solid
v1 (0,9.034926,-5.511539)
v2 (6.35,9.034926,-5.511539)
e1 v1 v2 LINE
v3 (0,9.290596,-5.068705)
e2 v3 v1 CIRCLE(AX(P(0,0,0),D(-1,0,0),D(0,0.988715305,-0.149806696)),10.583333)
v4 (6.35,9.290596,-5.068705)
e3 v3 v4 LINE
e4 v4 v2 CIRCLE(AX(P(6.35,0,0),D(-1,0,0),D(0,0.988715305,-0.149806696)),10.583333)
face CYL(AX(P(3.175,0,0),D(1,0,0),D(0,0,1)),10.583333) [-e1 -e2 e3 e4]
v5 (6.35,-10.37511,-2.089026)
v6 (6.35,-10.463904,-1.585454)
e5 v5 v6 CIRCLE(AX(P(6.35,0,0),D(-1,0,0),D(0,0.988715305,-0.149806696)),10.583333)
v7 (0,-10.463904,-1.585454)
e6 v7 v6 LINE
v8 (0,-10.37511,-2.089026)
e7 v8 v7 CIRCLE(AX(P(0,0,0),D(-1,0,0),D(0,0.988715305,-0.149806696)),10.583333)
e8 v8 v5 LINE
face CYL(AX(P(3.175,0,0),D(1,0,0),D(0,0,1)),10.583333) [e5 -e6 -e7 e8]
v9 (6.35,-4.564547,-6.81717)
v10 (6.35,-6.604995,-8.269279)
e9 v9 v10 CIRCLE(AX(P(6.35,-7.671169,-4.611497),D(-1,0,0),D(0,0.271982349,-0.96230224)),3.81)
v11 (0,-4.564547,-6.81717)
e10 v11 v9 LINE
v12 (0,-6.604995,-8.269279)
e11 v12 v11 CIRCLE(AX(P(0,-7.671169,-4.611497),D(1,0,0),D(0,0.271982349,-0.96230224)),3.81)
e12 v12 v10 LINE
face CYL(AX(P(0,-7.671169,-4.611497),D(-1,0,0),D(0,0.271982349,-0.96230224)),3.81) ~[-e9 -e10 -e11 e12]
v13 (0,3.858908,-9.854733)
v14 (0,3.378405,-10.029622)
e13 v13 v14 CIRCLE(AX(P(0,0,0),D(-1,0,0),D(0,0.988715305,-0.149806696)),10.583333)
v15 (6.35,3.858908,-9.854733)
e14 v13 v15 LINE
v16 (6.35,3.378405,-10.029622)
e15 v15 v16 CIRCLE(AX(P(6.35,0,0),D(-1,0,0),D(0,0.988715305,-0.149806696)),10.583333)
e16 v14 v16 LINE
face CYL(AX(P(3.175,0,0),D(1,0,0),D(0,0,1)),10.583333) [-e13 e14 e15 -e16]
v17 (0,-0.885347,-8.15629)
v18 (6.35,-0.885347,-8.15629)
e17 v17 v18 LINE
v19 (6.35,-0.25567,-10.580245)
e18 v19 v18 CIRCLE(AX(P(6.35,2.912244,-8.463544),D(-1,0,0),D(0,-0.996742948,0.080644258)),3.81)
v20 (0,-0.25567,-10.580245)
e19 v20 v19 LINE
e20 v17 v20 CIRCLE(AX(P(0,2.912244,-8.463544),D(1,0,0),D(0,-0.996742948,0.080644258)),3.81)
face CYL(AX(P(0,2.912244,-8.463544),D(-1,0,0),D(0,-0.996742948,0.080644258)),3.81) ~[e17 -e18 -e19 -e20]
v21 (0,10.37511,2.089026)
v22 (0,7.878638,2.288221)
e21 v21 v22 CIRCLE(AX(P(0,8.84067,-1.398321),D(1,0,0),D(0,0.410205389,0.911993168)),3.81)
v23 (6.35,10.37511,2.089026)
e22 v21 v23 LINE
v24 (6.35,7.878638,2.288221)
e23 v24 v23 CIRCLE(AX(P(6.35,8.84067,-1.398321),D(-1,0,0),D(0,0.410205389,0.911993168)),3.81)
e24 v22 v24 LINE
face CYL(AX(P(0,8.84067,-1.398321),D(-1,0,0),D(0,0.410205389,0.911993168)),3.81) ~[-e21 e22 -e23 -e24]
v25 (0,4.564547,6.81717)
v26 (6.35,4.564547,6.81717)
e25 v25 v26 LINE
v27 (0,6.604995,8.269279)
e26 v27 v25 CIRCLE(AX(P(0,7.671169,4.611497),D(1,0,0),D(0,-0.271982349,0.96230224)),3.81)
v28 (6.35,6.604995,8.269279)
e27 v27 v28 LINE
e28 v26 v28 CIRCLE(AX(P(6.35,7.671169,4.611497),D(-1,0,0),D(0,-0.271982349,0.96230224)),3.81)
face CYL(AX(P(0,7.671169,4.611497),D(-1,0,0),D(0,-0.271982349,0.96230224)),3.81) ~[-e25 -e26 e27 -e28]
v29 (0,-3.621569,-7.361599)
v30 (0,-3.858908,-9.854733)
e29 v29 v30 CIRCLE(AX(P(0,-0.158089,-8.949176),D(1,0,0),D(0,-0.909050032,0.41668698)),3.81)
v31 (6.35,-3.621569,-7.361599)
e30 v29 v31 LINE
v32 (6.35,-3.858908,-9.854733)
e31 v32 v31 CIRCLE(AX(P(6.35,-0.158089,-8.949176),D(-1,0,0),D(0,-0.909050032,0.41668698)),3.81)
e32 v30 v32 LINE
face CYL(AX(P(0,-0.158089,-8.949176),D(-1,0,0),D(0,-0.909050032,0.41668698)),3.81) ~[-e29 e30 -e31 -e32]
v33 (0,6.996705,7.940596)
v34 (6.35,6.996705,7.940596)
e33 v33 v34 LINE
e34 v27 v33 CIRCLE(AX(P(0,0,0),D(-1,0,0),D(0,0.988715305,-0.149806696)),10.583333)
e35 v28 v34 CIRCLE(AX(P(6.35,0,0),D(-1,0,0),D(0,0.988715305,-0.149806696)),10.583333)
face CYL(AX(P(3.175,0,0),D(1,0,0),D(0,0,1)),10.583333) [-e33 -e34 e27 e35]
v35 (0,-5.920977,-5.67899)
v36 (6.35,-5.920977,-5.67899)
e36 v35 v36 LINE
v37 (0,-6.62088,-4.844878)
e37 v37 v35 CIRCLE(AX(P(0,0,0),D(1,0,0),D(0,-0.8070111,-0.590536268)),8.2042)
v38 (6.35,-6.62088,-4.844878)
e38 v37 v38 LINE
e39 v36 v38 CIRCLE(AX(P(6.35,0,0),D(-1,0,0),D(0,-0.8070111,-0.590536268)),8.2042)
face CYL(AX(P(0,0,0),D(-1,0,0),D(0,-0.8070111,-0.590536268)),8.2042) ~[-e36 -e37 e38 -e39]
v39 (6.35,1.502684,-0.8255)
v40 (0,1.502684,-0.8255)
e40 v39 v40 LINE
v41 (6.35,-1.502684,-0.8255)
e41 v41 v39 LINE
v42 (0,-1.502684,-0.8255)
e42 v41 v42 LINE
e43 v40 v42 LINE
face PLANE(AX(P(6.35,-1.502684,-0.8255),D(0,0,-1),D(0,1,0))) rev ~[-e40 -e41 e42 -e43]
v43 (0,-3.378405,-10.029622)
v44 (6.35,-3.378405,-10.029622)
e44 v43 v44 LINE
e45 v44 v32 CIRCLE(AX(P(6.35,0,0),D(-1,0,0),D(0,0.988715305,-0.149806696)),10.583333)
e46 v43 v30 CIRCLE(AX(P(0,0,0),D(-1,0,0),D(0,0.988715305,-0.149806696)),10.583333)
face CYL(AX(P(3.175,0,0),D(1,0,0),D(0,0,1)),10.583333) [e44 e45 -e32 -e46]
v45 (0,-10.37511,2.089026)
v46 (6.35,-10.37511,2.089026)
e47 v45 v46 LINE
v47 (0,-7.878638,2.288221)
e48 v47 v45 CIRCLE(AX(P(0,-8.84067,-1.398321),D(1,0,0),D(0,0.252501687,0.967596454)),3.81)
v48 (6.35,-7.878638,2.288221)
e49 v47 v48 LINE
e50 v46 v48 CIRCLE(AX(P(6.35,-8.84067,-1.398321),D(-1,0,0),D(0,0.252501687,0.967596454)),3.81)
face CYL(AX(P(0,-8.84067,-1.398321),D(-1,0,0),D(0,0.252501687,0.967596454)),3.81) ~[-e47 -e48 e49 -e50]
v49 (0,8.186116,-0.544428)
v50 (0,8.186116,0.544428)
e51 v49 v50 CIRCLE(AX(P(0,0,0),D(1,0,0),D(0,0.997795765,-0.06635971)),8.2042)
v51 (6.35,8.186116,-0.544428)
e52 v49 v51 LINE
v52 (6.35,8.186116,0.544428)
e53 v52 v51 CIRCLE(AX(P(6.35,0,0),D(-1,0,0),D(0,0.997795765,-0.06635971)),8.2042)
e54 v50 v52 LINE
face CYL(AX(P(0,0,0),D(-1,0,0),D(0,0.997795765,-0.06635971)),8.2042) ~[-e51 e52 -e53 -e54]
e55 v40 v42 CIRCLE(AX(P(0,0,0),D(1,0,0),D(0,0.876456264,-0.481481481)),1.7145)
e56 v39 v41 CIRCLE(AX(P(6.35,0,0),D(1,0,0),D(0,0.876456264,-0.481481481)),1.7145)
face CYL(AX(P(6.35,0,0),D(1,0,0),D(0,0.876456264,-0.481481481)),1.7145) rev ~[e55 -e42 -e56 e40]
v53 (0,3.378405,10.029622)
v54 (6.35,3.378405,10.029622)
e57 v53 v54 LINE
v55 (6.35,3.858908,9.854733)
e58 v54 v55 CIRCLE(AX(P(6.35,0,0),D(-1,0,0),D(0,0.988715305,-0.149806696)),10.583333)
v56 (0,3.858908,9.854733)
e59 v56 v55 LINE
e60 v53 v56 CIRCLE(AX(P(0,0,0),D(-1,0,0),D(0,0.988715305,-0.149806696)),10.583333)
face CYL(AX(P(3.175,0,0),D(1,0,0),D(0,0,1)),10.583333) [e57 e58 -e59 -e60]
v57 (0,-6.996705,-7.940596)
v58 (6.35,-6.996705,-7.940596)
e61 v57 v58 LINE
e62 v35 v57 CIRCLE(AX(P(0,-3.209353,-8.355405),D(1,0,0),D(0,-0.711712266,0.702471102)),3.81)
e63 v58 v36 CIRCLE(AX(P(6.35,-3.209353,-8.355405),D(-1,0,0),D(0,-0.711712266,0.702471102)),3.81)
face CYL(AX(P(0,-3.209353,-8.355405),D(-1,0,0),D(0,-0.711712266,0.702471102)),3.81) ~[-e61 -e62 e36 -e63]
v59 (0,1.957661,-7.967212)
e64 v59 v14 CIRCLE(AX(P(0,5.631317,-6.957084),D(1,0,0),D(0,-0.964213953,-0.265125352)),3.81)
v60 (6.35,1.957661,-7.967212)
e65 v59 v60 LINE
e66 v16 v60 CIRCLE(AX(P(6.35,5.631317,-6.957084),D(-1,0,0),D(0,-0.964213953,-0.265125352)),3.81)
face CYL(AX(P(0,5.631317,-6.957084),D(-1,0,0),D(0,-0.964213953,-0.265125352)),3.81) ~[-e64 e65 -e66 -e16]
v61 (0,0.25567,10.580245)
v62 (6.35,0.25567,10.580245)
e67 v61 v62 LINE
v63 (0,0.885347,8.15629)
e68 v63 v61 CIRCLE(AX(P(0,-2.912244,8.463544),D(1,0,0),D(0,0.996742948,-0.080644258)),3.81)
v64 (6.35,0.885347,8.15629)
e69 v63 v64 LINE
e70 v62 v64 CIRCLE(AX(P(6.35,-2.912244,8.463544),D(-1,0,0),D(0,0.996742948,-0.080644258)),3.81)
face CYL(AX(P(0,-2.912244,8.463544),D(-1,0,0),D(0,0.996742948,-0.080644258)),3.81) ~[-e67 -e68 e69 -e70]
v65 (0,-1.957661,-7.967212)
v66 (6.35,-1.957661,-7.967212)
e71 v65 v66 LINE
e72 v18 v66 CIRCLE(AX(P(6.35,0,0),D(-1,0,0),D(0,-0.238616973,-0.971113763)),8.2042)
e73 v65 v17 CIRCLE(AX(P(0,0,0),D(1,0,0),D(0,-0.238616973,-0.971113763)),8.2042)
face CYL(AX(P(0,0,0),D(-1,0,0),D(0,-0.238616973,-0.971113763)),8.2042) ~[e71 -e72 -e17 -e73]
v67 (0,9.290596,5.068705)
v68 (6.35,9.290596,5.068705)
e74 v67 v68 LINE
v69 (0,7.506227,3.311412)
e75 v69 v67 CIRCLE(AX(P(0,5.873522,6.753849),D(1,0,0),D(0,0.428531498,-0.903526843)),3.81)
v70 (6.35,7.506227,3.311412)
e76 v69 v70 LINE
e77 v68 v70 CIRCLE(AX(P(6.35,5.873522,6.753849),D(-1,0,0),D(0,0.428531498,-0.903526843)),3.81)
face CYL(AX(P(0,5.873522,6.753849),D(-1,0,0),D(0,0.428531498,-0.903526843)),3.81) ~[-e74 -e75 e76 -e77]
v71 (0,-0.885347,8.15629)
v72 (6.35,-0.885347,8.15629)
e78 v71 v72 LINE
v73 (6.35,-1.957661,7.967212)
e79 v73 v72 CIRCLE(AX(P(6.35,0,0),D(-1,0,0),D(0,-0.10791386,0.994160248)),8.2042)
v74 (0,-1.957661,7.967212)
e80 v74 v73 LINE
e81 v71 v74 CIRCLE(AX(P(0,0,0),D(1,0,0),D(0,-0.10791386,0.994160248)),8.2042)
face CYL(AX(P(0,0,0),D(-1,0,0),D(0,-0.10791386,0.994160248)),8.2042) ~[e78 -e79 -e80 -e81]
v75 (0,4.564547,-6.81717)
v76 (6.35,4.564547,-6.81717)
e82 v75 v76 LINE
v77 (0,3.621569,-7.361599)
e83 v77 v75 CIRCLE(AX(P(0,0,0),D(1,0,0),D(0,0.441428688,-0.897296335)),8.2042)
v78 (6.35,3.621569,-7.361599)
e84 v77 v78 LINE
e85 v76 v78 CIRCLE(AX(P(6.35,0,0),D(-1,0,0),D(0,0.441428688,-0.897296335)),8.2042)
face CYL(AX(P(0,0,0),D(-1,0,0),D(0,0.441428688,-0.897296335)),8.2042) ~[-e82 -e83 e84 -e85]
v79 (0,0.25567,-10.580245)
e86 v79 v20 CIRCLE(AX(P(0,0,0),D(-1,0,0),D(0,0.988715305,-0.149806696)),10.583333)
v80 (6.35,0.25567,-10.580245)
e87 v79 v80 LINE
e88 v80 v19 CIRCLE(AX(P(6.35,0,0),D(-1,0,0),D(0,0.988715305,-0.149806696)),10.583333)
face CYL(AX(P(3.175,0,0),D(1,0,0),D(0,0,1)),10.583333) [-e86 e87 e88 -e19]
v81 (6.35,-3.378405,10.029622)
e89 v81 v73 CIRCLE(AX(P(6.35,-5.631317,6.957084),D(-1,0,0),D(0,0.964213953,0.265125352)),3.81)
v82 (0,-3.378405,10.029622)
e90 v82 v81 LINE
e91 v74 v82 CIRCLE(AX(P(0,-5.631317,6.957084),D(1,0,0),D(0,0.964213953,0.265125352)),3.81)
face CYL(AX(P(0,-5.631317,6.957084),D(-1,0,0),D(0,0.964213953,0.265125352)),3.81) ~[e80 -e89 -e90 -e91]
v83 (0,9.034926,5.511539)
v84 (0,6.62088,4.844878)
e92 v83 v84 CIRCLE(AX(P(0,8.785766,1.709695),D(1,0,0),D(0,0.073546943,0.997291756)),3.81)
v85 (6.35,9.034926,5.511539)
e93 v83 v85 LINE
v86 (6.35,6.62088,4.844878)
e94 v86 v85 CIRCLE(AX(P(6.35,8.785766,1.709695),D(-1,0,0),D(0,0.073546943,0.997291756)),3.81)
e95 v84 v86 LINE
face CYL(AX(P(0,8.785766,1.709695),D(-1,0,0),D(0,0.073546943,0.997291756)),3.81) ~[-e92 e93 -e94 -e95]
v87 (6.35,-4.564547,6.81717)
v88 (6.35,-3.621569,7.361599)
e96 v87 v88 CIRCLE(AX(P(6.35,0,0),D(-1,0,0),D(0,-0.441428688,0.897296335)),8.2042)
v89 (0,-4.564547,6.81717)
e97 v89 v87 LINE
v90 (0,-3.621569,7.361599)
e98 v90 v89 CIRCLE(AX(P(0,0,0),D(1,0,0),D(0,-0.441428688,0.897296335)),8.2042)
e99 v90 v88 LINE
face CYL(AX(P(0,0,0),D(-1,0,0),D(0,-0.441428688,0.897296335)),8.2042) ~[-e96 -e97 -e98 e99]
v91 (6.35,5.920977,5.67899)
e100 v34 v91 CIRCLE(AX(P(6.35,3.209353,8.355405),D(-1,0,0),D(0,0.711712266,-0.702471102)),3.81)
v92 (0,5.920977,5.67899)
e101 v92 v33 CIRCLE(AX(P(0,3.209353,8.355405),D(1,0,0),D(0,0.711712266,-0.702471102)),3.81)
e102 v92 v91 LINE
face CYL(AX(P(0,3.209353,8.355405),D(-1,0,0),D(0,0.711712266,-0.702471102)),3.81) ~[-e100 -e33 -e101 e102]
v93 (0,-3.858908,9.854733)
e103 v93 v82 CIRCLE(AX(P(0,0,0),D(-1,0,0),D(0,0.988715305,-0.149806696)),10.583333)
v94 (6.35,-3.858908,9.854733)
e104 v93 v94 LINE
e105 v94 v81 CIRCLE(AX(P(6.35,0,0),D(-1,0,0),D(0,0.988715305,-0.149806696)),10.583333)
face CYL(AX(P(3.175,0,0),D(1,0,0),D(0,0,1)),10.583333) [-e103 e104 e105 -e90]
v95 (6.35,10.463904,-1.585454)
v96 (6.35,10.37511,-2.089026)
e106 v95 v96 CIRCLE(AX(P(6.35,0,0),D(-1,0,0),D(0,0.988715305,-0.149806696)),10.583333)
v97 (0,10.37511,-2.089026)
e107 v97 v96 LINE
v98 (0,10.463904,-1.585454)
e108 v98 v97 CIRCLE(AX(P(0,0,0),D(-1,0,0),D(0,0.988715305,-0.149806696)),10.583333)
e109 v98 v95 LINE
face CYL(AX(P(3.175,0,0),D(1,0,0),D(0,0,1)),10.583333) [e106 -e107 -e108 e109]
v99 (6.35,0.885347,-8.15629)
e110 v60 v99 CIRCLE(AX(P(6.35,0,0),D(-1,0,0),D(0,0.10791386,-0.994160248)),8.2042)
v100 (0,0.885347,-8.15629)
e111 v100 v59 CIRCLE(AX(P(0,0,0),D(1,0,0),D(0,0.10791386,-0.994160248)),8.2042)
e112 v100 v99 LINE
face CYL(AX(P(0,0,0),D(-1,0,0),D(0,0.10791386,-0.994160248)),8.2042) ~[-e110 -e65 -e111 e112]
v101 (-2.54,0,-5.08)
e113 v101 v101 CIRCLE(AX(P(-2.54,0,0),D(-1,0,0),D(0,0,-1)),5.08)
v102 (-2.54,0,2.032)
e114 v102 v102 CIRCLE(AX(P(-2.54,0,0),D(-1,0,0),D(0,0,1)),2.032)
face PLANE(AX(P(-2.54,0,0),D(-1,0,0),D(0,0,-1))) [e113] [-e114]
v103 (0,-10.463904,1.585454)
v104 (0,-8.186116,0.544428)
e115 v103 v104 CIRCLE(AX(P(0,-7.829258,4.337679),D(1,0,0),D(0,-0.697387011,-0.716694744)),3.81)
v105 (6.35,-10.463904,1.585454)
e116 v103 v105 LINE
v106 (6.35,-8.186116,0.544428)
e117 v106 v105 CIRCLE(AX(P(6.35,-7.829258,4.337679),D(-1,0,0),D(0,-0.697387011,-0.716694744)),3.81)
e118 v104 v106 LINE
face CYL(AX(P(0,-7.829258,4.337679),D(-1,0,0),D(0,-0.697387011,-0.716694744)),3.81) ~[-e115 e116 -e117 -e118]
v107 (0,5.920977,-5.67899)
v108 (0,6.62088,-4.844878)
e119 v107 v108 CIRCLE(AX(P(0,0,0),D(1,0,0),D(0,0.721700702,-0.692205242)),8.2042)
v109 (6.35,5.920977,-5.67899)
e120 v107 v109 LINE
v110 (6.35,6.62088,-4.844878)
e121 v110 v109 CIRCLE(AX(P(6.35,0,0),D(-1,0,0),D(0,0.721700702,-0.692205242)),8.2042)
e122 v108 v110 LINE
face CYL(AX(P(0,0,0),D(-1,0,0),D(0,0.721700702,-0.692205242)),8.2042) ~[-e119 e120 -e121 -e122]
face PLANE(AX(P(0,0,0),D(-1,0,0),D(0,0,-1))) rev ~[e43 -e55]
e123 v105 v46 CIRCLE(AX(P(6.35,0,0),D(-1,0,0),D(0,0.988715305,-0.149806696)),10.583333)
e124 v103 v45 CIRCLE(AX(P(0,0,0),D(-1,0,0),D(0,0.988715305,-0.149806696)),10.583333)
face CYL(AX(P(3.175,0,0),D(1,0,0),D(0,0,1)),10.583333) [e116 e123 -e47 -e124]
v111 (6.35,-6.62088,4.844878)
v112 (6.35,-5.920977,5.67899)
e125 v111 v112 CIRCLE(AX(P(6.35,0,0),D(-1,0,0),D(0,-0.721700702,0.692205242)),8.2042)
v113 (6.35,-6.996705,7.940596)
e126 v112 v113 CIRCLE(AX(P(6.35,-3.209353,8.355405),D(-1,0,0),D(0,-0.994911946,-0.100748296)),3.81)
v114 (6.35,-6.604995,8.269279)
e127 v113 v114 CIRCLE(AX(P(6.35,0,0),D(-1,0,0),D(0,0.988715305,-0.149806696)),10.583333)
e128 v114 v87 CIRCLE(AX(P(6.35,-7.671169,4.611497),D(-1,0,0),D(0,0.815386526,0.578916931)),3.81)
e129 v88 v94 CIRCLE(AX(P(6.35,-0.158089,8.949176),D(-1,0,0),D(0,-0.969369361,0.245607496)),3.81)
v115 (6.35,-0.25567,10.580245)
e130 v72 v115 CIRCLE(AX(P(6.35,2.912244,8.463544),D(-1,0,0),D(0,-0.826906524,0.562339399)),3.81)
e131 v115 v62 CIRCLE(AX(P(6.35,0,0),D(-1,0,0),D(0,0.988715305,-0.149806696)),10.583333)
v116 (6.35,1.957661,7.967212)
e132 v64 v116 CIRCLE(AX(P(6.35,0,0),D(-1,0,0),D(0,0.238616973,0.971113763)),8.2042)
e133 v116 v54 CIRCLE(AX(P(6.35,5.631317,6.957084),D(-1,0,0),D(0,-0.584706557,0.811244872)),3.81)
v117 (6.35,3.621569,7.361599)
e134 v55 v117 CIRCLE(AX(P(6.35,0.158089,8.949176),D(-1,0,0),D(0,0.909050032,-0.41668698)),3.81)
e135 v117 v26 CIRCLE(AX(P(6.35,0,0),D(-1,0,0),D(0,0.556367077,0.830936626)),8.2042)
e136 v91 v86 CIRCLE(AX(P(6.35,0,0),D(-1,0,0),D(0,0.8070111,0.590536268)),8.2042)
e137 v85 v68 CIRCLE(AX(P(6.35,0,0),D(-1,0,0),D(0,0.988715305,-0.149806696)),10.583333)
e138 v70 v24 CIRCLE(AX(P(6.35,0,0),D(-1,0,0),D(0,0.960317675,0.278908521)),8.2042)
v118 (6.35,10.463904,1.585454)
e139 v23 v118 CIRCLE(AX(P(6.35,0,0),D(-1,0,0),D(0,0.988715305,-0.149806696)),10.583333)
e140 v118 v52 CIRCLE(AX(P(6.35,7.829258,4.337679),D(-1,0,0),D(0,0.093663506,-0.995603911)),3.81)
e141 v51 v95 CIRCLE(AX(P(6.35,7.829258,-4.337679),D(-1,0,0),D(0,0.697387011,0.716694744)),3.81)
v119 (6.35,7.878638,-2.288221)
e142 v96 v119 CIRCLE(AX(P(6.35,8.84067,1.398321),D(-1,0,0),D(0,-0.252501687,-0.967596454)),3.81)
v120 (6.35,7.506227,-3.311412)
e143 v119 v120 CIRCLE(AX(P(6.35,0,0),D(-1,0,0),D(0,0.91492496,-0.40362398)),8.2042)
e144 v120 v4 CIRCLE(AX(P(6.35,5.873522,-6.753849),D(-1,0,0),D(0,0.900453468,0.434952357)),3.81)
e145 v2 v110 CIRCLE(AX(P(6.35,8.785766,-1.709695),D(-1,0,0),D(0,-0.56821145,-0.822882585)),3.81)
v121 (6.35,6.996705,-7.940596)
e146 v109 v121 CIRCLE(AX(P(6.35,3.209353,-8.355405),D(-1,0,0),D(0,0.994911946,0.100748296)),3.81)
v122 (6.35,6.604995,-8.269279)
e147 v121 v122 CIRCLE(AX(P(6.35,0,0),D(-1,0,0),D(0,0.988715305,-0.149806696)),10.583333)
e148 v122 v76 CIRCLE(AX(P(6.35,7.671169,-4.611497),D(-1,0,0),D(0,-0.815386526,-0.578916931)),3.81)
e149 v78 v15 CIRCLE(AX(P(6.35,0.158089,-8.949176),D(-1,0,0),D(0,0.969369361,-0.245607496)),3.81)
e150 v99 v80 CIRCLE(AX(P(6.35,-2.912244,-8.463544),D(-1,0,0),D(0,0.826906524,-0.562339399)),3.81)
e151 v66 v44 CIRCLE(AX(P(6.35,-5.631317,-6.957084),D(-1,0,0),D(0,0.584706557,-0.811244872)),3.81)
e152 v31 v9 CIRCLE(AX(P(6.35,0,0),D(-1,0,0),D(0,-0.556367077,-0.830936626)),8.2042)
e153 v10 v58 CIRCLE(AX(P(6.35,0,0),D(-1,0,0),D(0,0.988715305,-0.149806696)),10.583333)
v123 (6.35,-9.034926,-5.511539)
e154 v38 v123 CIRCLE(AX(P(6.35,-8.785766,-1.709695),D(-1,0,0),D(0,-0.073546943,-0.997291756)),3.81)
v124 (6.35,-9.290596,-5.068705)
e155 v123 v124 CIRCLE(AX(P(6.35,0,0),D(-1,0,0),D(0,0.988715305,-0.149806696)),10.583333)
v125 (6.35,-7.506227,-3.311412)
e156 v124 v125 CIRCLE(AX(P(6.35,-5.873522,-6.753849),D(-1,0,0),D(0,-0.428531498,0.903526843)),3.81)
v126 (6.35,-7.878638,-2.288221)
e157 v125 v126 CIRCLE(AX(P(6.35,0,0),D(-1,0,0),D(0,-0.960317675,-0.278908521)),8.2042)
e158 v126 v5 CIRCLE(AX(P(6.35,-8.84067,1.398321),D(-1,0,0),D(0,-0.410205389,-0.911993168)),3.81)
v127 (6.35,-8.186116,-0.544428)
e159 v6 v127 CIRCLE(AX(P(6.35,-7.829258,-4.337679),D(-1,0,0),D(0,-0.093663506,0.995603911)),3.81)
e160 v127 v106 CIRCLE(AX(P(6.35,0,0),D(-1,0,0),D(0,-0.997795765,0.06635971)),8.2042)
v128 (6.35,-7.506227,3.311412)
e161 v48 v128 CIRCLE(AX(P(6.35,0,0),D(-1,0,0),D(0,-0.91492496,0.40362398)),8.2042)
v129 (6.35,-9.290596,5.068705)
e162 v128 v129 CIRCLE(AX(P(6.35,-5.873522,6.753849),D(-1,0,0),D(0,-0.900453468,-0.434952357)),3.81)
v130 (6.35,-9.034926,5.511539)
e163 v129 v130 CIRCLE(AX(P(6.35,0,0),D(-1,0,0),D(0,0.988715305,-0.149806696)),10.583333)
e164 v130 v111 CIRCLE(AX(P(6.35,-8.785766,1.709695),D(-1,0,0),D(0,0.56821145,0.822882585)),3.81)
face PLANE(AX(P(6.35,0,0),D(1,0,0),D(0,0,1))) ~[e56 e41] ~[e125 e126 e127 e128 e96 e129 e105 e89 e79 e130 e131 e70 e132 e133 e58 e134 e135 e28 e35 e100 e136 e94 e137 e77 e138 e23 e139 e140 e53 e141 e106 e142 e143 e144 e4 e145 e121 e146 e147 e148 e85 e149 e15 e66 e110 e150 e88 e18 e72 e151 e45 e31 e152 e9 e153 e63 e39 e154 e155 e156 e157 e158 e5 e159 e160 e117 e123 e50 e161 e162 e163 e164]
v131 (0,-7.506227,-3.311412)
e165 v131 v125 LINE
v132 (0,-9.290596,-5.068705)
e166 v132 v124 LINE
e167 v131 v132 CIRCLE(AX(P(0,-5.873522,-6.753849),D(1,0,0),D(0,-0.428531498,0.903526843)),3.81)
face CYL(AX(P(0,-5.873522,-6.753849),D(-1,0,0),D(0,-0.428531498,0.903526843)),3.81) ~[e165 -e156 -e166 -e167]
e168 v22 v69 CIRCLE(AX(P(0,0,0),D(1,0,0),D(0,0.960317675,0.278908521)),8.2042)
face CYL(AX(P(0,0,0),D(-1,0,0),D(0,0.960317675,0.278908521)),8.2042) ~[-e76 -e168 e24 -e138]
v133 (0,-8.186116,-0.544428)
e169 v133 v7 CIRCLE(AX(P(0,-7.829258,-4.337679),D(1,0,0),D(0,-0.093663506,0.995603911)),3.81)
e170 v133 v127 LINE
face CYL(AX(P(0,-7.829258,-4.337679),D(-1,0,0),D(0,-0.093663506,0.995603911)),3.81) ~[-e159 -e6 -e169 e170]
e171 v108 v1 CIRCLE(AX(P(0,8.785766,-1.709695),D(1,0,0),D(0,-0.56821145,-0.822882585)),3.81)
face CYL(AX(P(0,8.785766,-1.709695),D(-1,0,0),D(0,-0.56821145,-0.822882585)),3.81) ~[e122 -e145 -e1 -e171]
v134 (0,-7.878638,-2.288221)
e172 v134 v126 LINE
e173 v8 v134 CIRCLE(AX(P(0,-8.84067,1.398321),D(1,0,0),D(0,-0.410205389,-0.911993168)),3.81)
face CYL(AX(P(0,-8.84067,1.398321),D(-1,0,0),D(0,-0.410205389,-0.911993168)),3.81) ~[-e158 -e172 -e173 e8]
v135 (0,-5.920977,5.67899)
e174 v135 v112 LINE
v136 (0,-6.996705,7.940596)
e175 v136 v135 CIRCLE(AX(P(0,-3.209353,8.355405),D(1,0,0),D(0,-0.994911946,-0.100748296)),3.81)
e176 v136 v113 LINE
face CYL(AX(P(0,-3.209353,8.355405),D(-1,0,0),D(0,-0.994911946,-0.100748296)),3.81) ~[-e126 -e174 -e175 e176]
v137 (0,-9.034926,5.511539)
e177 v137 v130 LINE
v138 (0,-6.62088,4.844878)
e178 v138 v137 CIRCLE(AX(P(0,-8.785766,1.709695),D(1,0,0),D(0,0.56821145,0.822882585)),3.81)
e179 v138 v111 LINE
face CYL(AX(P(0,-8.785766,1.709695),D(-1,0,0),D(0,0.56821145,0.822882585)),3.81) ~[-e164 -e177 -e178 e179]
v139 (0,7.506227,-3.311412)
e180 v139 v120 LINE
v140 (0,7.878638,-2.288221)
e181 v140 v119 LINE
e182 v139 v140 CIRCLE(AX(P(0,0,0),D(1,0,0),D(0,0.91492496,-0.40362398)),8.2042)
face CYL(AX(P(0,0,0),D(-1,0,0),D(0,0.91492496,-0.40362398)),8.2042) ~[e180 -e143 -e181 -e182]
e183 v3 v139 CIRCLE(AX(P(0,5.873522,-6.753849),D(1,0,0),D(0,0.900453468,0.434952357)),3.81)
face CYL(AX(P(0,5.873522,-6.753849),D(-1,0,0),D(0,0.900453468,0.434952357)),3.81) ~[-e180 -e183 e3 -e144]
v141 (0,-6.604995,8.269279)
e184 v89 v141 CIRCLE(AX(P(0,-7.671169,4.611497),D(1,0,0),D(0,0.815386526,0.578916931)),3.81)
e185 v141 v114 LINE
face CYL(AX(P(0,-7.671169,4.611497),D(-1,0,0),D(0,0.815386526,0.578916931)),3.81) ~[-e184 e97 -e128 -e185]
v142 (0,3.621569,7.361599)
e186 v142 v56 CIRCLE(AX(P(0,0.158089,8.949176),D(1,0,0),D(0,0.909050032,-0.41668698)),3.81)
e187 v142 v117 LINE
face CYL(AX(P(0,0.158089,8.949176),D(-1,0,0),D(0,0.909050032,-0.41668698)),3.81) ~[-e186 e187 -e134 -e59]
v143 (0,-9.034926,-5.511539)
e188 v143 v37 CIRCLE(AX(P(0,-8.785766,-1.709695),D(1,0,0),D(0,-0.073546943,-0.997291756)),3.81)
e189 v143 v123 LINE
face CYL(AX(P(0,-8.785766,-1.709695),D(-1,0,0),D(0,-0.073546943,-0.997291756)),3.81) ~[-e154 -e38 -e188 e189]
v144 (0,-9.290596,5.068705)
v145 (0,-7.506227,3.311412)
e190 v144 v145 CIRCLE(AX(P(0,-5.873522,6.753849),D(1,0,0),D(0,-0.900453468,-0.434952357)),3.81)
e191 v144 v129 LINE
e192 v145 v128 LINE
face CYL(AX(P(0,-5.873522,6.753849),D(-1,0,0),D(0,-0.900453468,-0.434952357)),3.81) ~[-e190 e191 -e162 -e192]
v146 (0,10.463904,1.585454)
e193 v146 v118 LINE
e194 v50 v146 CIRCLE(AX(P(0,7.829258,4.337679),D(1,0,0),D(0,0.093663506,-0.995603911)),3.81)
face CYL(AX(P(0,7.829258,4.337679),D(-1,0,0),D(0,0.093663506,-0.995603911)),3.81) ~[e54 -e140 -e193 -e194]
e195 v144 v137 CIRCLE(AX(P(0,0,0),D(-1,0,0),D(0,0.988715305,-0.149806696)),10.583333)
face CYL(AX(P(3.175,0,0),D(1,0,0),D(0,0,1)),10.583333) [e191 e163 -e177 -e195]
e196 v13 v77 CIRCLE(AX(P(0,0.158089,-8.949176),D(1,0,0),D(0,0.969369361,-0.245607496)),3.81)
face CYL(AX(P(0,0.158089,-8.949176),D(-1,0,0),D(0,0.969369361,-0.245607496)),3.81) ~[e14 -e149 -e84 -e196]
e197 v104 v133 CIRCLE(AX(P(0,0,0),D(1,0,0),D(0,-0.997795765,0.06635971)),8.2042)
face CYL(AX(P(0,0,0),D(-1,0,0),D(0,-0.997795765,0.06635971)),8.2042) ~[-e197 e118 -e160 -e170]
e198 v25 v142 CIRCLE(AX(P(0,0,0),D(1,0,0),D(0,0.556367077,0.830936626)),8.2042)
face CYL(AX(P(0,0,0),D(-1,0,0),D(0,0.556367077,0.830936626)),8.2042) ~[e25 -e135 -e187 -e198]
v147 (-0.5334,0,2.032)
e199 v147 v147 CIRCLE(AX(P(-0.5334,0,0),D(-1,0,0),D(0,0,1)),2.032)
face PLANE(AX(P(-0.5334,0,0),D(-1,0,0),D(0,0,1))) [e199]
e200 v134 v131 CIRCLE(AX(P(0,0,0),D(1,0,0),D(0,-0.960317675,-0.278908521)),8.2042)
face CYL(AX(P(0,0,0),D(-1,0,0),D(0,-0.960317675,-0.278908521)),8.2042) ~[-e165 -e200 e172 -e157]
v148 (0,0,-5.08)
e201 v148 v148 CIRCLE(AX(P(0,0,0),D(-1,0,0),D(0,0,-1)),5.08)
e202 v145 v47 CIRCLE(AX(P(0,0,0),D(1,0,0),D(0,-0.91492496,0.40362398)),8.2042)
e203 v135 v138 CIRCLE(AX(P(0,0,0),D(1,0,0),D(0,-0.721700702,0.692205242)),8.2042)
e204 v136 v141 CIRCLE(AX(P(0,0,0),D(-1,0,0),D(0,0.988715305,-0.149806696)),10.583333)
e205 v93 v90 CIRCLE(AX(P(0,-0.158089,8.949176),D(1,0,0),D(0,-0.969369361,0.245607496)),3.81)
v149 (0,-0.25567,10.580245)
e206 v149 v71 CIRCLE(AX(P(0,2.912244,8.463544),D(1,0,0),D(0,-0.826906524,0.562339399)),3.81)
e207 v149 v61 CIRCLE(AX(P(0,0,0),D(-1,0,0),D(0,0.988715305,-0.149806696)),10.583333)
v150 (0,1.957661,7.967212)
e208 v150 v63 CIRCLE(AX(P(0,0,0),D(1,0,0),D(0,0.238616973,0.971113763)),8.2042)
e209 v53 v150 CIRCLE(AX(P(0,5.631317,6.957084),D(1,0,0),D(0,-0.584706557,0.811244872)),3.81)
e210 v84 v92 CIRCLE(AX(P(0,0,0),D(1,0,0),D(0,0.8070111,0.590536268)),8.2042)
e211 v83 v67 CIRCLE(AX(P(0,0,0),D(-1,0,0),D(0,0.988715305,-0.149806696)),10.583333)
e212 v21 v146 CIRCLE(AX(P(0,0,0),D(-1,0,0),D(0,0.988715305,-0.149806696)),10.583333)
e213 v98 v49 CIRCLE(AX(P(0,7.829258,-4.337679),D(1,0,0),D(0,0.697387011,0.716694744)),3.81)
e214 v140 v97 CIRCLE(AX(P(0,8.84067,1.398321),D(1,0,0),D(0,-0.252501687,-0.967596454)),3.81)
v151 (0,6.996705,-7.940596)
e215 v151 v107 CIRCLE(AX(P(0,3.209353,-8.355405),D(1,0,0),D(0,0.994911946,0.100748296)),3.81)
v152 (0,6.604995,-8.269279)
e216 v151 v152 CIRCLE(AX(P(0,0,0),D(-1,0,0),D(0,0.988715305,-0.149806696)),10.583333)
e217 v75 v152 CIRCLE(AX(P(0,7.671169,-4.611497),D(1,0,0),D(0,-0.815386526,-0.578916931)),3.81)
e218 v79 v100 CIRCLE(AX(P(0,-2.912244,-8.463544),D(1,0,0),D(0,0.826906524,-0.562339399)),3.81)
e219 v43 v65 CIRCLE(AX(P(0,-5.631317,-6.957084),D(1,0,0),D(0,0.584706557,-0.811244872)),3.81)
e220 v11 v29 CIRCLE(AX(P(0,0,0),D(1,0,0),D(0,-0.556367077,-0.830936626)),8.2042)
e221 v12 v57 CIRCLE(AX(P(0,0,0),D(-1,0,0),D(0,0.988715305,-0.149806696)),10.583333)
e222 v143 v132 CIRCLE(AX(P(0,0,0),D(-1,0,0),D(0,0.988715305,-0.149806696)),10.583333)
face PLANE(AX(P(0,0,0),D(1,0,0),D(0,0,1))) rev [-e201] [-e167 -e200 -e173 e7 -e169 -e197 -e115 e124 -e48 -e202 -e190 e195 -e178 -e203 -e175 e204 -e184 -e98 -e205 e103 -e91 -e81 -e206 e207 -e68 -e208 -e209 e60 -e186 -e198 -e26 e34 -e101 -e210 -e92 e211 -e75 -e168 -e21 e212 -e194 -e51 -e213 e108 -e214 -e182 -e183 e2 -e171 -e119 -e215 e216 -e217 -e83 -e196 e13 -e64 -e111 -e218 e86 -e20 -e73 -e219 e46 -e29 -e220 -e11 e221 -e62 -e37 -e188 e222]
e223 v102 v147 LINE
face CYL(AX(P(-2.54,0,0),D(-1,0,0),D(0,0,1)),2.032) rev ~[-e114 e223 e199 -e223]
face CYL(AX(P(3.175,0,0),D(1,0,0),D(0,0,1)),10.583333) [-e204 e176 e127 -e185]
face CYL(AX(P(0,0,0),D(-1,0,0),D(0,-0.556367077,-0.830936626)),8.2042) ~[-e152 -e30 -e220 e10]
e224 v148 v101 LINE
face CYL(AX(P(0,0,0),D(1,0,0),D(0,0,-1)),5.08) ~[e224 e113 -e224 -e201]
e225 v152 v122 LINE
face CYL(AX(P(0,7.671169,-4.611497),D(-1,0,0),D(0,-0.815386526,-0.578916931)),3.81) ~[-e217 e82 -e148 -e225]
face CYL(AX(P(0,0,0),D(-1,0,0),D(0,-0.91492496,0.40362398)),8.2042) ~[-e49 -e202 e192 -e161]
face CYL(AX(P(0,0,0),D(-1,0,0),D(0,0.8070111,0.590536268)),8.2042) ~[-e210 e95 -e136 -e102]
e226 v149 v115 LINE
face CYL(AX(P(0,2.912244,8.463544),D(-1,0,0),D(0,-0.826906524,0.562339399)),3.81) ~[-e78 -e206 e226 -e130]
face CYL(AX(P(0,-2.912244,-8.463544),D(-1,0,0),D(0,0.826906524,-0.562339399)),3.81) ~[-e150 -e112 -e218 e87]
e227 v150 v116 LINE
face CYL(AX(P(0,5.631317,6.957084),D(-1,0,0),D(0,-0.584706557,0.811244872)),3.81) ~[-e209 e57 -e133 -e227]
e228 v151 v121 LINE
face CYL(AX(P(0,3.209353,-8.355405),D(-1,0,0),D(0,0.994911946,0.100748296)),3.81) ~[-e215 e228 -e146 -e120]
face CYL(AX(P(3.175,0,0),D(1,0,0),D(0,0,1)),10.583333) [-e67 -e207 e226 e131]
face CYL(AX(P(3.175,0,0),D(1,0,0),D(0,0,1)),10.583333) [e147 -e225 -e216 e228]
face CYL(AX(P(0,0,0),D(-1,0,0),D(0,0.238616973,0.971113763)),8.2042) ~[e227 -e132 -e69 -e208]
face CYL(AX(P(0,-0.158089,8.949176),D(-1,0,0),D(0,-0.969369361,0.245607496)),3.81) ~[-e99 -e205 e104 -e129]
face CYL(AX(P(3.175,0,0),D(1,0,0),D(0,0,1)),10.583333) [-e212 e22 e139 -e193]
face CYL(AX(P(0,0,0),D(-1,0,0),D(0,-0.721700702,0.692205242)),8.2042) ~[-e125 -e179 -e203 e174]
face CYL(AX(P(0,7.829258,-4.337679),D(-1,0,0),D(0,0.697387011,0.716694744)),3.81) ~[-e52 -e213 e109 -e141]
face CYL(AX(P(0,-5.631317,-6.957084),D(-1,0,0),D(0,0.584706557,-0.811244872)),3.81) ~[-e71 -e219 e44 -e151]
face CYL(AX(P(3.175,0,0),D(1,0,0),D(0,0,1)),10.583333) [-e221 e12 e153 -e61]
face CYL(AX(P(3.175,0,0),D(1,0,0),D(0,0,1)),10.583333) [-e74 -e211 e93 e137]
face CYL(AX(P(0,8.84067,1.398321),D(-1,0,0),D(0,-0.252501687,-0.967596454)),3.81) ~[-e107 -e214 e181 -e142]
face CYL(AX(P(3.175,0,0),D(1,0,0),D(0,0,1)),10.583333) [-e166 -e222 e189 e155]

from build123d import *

# Parameters (mm, degrees)
BASPROSKE_W         = 6.35
BASPROSKE_H         = 10.583333333
TOOTHCUT_DEPTH      = 17.258425166
TEETHCUTS_COUNT     = 18
TEETHCUTS_ANGLE     = 340
BORSKE_R            = 0.396875
BORE_DEPTH          = 50.8000508
CUT_EXTRUDE1_DEPTH  = 17.180937051
SKETCH2_R           = 5.08
BOSS_EXTRUDE1_DEPTH = 2.54
SKETCH3_R           = 2.032
CUT_EXTRUDE2_DEPTH  = 2.0066


with BuildPart() as part:
    # BasProSke → Base-Revolve (revolve)
    with BuildSketch(Plane(origin=(0, 0, 0), x_dir=(1, 0, 0), z_dir=(0, 1, 0)), mode=Mode.PRIVATE) as base_revolve_sk:
        with Locations((3.175, 5.291666667)):
            Rectangle(BASPROSKE_W, BASPROSKE_H)
    revolve(base_revolve_sk.sketch.rotate(Axis((-10, 0, 0), (1, 0, 0)), 180), axis=Axis((-10, 0, 0), (1, 0, 0)))

    # TooCutSke → ToothCut (cut, through all)
    with BuildSketch(Plane(origin=(0, 0, 0), x_dir=(0, 0, -1), z_dir=(1, 0, 0))):
        with BuildLine():
            ThreePointArc((0.544428341, 8.186116016), (0, 8.2042), (-0.544428341, 8.186116016))
            ThreePointArc((-0.544428341, 8.186116016), (-0.878937427, 9.427133228), (-1.607072268, 10.486302574))
            ThreePointArc((-1.607072268, 10.486302574), (0, 10.608733333), (1.607072268, 10.486302574))
            ThreePointArc((1.607072268, 10.486302574), (0.878937427, 9.427133228), (0.544428341, 8.186116016))
        make_face()
    toothcut = extrude(amount=TOOTHCUT_DEPTH, mode=Mode.SUBTRACT)

    # TeethCuts: ToothCut ×18 about axis
    teethcuts_axis = Axis((-10, 0, 0), (1, 0, 0))
    for i in range(1, TEETHCUTS_COUNT):
        add(toothcut.rotate(teethcuts_axis, i * TEETHCUTS_ANGLE / (TEETHCUTS_COUNT - 1)), mode=Mode.SUBTRACT)

    # BorSke → Bore (cut, symmetric)
    with BuildSketch(Plane(origin=(0, 0, 0), x_dir=(0, 0, -1), z_dir=(1, 0, 0))):
        with Locations(Location((0, 0, 0), (0, 0, 180))):
            Circle(BORSKE_R)
    extrude(amount=BORE_DEPTH, both=True, mode=Mode.SUBTRACT)

    # Sketch1 → Cut-Extrude1 (cut, through all)
    with BuildSketch(Plane(origin=(6.35, 0, 0), x_dir=(0, 0, -1), z_dir=(1, 0, 0))):
        with BuildLine():
            Line((0.8255, -1.502684265), (0.8255, 1.502684265))
            ThreePointArc((0.8255, 1.502684265), (-1.7145, 0), (0.8255, -1.502684265))
        make_face()
    extrude(amount=-CUT_EXTRUDE1_DEPTH, mode=Mode.SUBTRACT)

    # Sketch2 → Boss-Extrude1 (add)
    with BuildSketch(Plane.ZY):
        with Locations(Location((0, 0, 0), (0, 0, 180))):
            Circle(SKETCH2_R)
    extrude(amount=BOSS_EXTRUDE1_DEPTH)

    # Sketch3 → Cut-Extrude2 (cut)
    with BuildSketch(Plane.ZY.offset(2.54)):
        Circle(SKETCH3_R)
    extrude(amount=-CUT_EXTRUDE2_DEPTH, mode=Mode.SUBTRACT)


solid = part.part
